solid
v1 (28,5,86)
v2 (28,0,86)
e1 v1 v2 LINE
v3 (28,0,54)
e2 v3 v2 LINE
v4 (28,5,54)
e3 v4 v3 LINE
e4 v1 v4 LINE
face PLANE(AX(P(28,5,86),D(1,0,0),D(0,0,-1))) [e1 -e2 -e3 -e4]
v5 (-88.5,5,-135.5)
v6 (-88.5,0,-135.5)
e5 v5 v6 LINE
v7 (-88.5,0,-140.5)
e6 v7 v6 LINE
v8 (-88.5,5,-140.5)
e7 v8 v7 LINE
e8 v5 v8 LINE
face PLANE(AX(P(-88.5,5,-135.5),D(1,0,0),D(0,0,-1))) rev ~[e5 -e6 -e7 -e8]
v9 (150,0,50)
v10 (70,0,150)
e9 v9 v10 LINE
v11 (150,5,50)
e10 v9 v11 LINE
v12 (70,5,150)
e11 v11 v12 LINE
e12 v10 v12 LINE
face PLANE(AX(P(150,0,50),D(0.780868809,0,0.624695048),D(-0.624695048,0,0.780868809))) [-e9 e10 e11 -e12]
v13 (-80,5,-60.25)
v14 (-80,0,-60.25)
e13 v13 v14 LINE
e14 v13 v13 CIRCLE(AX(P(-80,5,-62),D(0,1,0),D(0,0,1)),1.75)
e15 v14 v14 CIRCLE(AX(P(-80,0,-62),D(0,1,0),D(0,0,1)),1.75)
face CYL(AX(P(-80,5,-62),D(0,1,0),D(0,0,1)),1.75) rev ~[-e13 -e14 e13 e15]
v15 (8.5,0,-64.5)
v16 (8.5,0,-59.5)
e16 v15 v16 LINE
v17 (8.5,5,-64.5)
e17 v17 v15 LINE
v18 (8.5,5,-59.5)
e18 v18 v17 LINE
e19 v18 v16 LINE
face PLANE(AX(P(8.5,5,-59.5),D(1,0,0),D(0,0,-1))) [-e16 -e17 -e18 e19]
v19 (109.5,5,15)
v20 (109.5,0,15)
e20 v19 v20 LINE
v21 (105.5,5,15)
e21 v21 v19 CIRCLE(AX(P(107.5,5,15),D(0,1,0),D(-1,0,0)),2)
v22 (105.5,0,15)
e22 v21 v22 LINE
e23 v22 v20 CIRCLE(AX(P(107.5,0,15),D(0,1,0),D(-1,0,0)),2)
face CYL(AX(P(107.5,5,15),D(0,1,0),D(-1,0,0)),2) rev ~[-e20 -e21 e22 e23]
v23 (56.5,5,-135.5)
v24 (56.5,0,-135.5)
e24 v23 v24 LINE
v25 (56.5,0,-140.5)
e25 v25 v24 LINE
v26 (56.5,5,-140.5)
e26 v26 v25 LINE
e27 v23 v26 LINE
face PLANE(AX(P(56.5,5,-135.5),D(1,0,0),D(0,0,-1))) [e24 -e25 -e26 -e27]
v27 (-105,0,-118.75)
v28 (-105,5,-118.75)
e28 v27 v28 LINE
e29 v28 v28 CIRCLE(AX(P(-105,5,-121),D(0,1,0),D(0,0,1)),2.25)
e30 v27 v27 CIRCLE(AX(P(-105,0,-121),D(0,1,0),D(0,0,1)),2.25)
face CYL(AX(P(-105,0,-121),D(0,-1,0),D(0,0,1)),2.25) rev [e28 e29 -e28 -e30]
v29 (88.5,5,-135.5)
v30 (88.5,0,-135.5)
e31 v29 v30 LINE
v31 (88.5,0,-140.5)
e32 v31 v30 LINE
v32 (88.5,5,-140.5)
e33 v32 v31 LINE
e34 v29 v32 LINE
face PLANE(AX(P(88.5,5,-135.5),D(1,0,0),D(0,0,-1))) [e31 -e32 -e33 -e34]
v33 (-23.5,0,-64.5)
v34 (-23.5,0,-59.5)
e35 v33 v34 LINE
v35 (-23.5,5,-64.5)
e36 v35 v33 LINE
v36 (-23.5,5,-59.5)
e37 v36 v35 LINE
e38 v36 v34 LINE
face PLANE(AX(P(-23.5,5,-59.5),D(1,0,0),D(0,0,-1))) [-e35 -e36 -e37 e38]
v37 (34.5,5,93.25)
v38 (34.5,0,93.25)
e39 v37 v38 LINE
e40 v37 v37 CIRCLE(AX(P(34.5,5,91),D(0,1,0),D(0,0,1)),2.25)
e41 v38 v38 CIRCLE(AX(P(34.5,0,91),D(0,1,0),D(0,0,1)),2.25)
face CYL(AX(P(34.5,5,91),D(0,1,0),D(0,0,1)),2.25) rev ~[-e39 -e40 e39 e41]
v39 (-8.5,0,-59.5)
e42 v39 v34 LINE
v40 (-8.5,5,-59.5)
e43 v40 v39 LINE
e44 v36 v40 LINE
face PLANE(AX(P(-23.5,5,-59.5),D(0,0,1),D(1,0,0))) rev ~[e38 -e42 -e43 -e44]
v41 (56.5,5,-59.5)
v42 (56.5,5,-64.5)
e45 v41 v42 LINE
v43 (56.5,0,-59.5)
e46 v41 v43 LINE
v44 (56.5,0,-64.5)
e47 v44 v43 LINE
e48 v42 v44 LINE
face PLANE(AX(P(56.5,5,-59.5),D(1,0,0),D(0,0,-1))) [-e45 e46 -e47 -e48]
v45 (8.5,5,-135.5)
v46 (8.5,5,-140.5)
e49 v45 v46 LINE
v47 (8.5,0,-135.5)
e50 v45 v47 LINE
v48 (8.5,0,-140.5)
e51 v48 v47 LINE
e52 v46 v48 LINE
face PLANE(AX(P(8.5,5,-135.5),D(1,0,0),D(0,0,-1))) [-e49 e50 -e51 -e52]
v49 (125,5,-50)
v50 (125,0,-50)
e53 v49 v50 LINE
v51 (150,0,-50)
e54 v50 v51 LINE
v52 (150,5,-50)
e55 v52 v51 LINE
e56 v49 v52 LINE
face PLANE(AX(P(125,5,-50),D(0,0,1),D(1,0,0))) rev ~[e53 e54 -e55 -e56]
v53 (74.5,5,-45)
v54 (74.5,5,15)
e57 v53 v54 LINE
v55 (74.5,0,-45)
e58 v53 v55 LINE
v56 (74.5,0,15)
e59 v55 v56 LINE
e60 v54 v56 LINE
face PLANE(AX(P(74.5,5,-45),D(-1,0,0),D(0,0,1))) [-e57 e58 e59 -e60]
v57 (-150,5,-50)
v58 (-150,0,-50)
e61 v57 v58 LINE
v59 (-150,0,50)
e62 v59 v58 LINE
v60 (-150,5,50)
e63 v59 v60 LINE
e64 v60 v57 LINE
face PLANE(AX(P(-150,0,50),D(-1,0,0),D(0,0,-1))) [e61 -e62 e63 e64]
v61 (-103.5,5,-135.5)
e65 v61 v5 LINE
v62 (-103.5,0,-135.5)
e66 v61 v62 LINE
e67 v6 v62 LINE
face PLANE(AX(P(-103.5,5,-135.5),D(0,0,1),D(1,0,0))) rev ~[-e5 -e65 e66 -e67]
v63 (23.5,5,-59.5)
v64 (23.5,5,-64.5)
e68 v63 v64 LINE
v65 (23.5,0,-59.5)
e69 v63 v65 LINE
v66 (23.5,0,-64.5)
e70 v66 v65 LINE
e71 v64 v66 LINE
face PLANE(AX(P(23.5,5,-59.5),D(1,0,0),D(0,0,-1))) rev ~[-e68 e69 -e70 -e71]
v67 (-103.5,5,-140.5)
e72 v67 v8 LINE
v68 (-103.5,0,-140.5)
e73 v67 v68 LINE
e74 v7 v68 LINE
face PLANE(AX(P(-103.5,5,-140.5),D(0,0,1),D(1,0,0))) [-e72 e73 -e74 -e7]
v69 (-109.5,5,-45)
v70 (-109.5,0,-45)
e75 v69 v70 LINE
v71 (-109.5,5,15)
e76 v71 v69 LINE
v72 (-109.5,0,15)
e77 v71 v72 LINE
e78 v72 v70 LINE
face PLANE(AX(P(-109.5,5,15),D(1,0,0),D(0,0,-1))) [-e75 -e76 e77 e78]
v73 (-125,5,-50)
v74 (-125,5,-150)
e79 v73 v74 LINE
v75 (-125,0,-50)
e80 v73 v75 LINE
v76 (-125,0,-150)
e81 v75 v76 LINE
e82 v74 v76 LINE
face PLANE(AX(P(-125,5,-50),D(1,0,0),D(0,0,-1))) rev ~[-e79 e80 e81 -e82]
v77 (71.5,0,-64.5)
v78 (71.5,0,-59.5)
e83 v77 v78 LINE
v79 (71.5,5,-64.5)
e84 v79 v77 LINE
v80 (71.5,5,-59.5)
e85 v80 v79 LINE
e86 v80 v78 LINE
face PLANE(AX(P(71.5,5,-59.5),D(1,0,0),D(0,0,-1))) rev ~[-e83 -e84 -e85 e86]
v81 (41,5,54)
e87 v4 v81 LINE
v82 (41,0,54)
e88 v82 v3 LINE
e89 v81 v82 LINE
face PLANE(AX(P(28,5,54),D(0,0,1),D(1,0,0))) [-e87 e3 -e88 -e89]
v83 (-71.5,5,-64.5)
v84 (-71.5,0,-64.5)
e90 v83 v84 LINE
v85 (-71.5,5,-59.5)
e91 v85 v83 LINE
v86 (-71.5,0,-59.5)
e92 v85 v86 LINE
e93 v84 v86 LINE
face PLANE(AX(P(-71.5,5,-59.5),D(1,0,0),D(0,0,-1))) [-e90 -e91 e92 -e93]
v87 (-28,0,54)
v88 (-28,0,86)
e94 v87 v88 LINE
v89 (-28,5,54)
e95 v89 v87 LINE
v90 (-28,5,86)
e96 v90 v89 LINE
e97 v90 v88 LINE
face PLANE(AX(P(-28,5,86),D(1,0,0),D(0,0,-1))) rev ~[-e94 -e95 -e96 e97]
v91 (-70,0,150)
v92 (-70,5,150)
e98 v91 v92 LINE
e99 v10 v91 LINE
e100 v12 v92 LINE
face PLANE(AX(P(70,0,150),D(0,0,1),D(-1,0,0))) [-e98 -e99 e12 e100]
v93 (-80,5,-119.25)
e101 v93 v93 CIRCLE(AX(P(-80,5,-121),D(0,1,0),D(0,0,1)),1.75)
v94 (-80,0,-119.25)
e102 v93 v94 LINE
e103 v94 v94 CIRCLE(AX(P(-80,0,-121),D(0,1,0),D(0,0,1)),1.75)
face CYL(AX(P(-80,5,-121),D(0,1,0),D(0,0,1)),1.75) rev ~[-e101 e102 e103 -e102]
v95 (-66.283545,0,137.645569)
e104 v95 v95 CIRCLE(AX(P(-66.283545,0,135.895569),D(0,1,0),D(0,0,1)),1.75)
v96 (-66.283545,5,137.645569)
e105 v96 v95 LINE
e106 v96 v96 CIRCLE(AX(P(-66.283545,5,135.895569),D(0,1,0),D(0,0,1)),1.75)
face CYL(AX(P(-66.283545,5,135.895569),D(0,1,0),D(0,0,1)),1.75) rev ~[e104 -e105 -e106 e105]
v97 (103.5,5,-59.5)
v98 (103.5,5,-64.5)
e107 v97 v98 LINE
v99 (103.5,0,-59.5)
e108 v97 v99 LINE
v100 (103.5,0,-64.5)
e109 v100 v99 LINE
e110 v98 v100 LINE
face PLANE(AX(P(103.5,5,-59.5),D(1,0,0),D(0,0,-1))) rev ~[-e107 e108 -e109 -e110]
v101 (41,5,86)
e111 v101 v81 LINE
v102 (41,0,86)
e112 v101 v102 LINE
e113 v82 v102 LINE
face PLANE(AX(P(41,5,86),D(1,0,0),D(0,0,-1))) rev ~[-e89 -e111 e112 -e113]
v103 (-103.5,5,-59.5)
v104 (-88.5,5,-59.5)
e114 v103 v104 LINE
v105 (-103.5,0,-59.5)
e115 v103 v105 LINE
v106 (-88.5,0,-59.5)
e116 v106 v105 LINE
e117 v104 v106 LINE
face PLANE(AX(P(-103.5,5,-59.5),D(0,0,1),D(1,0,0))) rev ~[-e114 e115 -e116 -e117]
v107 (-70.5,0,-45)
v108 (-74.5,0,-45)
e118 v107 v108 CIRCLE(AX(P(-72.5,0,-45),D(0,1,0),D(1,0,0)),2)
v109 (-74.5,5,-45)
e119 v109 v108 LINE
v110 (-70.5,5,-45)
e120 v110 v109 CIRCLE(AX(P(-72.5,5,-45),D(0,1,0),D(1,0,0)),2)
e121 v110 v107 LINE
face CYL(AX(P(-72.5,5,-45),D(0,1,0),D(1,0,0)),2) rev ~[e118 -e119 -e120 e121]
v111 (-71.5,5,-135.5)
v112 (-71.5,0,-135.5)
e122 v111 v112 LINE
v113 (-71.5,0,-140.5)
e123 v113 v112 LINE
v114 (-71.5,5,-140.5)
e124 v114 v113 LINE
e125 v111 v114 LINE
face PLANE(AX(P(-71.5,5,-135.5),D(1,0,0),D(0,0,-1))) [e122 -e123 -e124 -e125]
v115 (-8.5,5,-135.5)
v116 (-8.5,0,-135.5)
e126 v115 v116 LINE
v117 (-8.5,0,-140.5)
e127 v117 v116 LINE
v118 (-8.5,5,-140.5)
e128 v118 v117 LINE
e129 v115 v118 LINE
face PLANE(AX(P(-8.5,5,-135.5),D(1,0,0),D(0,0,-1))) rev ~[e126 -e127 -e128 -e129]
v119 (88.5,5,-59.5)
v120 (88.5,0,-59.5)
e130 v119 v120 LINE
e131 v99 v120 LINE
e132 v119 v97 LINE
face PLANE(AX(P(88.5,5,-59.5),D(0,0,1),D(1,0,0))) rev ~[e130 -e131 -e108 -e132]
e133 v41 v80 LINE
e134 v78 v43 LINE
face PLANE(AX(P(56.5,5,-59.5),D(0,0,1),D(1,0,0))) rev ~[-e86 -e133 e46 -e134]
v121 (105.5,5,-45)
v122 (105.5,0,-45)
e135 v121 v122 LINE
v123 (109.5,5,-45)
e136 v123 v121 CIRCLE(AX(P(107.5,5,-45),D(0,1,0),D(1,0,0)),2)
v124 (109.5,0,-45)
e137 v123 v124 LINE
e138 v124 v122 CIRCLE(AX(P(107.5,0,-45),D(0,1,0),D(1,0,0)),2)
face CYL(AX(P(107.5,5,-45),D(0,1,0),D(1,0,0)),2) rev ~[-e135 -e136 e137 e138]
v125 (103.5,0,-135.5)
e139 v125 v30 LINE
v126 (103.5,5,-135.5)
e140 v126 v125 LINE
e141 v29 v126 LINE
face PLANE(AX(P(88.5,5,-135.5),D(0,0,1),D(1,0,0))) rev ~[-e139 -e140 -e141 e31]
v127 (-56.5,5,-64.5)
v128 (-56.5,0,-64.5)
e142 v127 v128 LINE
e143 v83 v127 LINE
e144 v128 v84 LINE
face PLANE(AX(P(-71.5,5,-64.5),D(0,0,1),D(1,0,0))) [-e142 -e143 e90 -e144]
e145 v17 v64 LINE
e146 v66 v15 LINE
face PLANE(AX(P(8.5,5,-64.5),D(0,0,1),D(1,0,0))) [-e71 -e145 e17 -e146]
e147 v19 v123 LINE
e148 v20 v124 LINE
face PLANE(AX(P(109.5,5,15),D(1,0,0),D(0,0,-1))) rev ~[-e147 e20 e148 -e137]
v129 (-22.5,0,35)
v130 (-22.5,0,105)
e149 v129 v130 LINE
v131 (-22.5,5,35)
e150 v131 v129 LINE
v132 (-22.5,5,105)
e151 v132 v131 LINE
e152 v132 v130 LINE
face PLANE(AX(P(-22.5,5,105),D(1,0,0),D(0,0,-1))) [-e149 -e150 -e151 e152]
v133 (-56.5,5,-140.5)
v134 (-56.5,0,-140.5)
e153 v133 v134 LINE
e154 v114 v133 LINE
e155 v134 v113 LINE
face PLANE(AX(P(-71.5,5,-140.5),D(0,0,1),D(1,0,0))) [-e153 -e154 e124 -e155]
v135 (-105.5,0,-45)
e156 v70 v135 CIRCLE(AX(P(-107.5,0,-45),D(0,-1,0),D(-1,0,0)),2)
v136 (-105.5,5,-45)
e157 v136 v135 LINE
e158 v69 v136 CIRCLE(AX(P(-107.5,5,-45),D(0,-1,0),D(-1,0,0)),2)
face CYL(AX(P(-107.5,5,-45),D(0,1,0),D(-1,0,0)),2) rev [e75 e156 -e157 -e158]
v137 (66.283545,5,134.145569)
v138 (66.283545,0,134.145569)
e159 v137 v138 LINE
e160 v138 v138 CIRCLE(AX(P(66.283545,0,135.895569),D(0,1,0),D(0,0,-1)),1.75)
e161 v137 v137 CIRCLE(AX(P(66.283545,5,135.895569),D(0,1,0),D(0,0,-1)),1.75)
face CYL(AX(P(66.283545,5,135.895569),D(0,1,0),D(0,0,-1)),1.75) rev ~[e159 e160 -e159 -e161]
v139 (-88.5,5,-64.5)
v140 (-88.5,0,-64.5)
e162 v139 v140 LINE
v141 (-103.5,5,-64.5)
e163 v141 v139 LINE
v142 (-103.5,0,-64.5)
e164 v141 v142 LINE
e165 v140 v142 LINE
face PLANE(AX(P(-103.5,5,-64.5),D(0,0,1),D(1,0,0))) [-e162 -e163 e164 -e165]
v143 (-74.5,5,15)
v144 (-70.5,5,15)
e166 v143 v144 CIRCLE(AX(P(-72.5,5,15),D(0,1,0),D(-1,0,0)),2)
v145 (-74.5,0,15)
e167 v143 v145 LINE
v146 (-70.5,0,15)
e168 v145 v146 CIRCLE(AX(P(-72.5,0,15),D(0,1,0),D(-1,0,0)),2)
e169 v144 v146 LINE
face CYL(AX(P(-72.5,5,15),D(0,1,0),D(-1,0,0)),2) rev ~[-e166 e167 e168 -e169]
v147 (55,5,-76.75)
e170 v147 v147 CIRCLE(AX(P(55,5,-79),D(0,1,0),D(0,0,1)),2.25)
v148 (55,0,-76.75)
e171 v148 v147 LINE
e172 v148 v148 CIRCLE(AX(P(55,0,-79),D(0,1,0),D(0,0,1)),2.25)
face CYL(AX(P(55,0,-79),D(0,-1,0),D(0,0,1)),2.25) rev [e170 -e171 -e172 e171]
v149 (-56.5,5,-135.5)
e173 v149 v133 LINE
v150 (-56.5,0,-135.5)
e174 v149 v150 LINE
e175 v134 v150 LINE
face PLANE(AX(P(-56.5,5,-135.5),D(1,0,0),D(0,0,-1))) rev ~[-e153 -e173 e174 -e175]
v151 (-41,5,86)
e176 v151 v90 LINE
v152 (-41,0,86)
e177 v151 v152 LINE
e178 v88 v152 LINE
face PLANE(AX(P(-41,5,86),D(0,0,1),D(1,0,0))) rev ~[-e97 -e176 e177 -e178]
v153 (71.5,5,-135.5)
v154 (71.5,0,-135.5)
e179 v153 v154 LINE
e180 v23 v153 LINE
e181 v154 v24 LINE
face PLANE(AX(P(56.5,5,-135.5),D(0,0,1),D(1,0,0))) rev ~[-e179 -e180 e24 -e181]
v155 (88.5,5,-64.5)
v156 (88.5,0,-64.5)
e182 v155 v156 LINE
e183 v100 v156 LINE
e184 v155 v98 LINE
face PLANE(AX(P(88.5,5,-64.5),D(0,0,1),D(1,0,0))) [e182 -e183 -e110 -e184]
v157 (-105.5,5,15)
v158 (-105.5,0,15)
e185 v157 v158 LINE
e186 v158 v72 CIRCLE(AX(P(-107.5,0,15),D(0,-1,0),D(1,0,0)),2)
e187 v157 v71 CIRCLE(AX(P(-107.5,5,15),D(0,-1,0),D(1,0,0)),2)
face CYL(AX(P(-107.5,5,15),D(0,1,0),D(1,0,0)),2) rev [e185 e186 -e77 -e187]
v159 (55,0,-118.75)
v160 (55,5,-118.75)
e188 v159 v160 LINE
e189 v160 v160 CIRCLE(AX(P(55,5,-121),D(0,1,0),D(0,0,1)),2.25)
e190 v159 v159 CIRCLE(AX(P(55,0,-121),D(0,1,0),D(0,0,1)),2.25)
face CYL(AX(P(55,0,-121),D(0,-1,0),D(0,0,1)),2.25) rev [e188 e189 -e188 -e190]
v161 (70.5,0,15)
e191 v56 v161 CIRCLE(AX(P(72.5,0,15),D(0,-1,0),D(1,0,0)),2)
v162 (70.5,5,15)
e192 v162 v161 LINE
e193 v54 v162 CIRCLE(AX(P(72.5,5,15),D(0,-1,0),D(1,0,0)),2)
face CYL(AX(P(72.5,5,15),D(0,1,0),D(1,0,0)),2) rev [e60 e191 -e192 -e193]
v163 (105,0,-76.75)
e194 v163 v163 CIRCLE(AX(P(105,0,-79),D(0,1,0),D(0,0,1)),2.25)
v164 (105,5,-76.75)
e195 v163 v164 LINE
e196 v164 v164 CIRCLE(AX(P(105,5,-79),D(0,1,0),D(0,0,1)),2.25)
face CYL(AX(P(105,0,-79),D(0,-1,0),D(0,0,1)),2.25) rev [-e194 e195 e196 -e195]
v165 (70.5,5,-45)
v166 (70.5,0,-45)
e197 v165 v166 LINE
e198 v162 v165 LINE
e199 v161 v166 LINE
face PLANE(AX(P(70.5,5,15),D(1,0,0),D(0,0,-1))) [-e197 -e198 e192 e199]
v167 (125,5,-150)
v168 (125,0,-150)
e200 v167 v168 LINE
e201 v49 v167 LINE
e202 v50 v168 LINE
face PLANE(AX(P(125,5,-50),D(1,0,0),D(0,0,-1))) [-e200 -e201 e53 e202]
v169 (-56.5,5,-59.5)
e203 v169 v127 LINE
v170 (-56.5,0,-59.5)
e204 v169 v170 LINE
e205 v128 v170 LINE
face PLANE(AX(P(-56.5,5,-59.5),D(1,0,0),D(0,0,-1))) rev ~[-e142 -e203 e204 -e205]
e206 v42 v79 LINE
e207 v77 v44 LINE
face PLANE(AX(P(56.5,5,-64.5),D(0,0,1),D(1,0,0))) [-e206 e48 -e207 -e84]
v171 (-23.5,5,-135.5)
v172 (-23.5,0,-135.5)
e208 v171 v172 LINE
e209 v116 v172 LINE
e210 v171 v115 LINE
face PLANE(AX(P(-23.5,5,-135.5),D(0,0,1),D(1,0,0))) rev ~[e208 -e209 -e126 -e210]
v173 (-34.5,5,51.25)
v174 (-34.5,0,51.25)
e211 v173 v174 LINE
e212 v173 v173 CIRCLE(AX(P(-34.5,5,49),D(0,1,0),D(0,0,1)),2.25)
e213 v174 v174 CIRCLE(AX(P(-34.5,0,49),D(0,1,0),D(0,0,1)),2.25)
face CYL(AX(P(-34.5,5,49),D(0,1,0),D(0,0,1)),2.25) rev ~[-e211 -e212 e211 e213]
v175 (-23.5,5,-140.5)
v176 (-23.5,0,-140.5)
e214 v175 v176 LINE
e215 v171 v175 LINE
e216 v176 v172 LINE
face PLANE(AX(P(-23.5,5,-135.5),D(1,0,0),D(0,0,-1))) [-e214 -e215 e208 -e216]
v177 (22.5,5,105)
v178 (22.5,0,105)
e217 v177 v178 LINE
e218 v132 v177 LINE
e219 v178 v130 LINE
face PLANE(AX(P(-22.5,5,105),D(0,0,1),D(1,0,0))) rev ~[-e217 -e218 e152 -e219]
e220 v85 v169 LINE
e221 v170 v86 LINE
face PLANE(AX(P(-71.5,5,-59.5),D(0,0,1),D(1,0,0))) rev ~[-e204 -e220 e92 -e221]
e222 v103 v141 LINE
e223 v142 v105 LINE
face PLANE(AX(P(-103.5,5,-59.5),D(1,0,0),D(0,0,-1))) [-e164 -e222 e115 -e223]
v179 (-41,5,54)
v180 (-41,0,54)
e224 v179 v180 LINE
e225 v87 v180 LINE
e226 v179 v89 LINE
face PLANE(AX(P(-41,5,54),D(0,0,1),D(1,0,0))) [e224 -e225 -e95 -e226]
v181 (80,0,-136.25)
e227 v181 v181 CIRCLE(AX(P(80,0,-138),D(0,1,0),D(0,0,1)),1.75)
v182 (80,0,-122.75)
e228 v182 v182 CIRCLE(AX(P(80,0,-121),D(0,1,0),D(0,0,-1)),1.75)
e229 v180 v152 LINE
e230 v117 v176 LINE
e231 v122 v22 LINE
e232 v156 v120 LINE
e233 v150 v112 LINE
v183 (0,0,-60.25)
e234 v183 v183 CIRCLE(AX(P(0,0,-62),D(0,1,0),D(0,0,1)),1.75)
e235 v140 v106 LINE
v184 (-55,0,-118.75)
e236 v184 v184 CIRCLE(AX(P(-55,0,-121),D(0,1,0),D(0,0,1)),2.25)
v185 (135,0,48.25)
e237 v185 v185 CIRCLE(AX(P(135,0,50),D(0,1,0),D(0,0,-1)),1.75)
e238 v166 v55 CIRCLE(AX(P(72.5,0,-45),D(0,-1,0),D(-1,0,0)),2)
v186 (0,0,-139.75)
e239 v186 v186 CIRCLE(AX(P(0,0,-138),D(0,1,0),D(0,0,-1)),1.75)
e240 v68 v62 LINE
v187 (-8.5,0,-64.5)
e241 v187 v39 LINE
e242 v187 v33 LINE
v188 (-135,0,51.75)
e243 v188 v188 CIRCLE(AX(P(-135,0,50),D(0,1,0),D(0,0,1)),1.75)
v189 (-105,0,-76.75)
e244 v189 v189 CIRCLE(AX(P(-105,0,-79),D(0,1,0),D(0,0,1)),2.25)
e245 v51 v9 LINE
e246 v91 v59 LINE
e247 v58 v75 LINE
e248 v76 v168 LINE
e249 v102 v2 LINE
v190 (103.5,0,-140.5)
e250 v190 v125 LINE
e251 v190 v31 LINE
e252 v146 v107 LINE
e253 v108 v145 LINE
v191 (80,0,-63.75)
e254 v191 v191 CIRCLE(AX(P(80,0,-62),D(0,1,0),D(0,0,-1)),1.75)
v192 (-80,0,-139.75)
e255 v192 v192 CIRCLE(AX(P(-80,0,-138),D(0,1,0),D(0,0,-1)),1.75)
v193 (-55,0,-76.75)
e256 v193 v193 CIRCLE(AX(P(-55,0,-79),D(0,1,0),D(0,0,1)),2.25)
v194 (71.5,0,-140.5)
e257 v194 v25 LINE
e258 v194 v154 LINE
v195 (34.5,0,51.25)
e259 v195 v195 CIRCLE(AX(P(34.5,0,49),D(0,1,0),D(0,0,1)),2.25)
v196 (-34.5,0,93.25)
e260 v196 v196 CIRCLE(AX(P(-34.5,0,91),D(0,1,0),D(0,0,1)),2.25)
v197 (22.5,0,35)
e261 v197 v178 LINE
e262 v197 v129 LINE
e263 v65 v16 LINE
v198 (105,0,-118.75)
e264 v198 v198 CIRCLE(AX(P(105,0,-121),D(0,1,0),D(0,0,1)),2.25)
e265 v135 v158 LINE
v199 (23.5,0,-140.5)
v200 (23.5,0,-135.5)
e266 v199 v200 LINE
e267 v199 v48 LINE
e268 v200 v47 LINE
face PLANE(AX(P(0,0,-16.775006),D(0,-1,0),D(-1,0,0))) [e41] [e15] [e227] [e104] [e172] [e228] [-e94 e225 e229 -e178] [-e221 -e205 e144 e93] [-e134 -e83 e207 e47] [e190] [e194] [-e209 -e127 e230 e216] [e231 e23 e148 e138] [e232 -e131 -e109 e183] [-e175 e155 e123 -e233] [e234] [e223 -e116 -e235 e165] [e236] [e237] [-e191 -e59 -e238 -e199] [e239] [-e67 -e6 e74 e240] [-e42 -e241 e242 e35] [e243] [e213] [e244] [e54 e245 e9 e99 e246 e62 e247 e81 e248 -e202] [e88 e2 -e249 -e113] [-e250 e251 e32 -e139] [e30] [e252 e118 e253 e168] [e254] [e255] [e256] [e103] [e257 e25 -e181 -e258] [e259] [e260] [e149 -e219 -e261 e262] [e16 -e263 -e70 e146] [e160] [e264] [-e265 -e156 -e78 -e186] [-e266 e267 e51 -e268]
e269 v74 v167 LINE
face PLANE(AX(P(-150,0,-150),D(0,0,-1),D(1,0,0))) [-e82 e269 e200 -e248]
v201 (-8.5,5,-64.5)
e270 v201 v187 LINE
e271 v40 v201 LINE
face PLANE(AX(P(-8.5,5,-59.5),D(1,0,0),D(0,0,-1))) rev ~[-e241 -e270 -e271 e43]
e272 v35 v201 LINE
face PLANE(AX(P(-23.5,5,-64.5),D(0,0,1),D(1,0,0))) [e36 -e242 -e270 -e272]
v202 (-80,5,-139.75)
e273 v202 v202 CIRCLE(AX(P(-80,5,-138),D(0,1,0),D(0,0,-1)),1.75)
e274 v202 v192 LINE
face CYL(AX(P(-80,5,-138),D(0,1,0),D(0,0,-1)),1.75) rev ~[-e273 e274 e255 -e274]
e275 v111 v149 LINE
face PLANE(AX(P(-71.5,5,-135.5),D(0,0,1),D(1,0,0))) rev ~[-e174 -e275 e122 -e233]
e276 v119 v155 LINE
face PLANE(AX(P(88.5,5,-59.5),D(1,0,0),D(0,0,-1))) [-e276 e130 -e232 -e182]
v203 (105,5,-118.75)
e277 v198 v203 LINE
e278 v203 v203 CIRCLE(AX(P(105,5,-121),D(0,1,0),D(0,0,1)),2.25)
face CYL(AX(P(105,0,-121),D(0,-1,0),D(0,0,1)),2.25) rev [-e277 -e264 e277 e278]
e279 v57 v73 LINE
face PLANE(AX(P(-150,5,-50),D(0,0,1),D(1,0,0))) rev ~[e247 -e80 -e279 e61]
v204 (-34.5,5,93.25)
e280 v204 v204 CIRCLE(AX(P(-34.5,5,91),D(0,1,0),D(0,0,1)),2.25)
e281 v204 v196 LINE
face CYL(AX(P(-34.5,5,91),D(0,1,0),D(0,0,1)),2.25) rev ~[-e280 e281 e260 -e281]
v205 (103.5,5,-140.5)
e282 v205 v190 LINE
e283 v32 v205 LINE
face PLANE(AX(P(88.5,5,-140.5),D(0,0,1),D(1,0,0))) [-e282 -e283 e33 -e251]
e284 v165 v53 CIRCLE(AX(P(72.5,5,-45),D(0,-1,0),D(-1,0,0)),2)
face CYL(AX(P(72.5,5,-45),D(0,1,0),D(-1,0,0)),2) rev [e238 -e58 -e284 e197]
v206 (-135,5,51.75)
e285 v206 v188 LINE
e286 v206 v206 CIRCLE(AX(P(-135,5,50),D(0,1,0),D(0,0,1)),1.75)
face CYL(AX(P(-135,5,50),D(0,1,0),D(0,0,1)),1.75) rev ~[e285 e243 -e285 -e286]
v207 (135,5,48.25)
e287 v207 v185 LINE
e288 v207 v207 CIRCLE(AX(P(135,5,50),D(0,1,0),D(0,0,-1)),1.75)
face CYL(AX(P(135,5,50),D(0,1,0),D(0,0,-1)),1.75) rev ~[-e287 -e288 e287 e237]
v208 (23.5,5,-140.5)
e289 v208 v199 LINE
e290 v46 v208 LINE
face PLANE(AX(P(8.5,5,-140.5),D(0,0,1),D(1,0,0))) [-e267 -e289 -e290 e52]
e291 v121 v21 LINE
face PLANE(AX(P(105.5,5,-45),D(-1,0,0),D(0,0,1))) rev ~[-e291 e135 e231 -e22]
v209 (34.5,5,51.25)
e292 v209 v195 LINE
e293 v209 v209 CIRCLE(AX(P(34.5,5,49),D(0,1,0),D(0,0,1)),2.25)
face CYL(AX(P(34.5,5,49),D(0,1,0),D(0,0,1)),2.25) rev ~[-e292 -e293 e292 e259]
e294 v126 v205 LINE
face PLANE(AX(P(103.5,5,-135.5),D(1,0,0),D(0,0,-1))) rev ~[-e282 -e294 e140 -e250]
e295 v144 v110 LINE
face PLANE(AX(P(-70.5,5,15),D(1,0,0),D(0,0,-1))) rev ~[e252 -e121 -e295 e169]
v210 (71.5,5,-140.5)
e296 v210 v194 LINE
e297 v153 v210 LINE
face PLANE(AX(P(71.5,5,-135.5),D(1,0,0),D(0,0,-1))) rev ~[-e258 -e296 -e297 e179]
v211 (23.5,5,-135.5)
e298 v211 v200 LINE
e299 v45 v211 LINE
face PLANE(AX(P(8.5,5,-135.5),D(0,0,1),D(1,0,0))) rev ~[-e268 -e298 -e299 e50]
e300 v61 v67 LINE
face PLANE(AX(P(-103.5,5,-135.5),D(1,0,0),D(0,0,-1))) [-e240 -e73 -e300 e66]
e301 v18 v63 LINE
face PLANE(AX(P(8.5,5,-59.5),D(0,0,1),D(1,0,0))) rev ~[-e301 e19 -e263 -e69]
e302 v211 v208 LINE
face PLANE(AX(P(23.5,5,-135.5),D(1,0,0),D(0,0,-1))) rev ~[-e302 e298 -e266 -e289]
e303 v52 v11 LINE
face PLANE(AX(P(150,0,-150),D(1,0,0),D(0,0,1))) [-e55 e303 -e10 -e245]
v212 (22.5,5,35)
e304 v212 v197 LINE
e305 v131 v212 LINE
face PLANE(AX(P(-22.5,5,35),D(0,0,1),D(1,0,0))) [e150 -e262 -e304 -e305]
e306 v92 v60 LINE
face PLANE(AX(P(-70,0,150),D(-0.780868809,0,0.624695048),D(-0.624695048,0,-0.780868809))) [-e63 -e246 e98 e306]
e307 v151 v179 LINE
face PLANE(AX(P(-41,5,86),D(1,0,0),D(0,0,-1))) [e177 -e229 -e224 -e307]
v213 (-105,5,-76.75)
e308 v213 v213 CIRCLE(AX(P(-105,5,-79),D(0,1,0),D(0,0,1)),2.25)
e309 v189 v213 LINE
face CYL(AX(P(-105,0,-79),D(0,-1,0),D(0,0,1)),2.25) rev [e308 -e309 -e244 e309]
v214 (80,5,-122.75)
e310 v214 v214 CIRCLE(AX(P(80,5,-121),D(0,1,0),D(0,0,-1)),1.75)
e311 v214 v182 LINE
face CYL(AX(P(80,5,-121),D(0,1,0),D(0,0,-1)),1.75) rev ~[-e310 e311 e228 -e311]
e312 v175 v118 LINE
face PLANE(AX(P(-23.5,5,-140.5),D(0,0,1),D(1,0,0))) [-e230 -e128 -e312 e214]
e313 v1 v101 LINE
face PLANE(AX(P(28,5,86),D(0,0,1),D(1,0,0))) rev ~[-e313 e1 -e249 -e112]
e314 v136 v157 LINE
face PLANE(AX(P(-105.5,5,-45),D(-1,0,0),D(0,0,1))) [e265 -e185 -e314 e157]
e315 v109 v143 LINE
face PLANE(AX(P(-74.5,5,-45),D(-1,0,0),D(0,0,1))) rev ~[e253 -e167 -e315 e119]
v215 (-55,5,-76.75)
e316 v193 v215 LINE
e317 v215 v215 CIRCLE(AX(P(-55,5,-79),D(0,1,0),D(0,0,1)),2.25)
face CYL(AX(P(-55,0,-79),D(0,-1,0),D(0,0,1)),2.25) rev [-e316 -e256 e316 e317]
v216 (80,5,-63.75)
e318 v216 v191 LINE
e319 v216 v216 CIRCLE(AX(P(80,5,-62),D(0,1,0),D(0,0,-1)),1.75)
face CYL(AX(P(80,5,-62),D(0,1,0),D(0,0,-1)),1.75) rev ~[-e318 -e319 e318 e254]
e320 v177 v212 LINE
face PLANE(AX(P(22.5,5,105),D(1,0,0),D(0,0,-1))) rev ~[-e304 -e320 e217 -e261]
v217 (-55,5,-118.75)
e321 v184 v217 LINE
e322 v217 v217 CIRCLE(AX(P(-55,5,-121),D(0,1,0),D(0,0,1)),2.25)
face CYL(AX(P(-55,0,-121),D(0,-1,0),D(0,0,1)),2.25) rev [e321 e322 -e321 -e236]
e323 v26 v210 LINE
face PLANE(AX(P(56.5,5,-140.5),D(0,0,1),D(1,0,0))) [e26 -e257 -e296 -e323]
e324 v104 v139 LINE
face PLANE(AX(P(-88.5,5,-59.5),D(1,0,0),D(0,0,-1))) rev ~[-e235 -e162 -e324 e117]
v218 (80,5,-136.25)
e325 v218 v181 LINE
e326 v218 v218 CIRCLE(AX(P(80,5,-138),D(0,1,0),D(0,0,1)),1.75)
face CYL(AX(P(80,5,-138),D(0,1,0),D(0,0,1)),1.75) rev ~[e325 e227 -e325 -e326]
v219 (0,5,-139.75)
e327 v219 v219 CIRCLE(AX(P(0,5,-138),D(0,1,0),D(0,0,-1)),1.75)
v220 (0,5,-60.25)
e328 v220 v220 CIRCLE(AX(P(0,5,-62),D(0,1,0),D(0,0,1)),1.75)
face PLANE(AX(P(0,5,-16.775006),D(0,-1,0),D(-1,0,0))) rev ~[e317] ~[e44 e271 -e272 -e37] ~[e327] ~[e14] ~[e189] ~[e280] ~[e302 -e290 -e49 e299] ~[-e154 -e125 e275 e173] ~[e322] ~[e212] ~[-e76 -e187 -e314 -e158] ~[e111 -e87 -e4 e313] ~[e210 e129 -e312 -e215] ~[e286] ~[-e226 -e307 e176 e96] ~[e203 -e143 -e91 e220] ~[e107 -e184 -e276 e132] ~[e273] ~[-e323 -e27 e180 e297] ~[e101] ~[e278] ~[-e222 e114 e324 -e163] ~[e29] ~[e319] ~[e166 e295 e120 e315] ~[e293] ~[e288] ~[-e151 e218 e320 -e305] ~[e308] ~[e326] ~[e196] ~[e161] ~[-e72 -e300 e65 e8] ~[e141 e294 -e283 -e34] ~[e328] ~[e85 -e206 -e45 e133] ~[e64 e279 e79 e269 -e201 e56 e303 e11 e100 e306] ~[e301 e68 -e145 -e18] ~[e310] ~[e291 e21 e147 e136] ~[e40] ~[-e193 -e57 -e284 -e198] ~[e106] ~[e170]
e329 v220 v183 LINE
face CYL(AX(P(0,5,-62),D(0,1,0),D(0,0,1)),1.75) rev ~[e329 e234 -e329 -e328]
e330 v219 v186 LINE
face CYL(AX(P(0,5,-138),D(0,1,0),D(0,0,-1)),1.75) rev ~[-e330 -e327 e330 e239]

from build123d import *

# Parameters (mm, degrees)
SKETCH_2_R          = 2.25
EXTRUDE_2_DEPTH     = 5
SKETCH_3_W          = 25
SKETCH_3_H          = 100
CUT_EXTRUDE_1_DEPTH = 5
CUT_EXTRUDE_2_DEPTH = 5
SKETCH_5_R          = 1.75
SKETCH_5_W          = 15
SKETCH_5_H          = 5
CUT_EXTRUDE_3_DEPTH = 213.190951739
SKETCH_7_R          = 2.25
SKETCH_7_W          = 13
SKETCH_7_H          = 32
SKETCH_7_W_2        = 45
SKETCH_7_H_2        = 70
CUT_EXTRUDE_4_DEPTH = 10
SKETCH_8_R          = 1.75
CUT_EXTRUDE_5_DEPTH = 213.190951739


with BuildPart() as part:
    # 草圖2 → 填料-伸長2 (new body)
    with BuildSketch(Plane(origin=(0, 0, 0), x_dir=(1, 0, 0), z_dir=(0, 1, 0))):
        Polygon((-150, 150), (150, 150), (150, -50), (70, -150), (-70, -150), (-150, -50), align=None)
        with Locations(Location((-105, 121, 0), (0, 0, 270))):
            Circle(SKETCH_2_R, mode=Mode.SUBTRACT)
        with Locations(Location((-105, 79, 0), (0, 0, 270))):
            Circle(SKETCH_2_R, mode=Mode.SUBTRACT)
        with Locations(Location((-55, 79, 0), (0, 0, 270))):
            Circle(SKETCH_2_R, mode=Mode.SUBTRACT)
        with Locations(Location((-55, 121, 0), (0, 0, 270))):
            Circle(SKETCH_2_R, mode=Mode.SUBTRACT)
        with Locations(Location((55, 121, 0), (0, 0, 270))):
            Circle(SKETCH_2_R, mode=Mode.SUBTRACT)
        with Locations(Location((55, 79, 0), (0, 0, 270))):
            Circle(SKETCH_2_R, mode=Mode.SUBTRACT)
        with Locations(Location((105, 121, 0), (0, 0, 270))):
            Circle(SKETCH_2_R, mode=Mode.SUBTRACT)
        with Locations(Location((105, 79, 0), (0, 0, 270))):
            Circle(SKETCH_2_R, mode=Mode.SUBTRACT)
    extrude(amount=EXTRUDE_2_DEPTH)

    # 草圖3 → 除料-伸長1 (cut)
    with BuildSketch(Plane(origin=(0, 5, 0), x_dir=(1, 0, 0), z_dir=(0, 1, 0))):
        with Locations((-137.5, 100)):
            Rectangle(SKETCH_3_W, SKETCH_3_H)
        with Locations((137.5, 100)):
            Rectangle(SKETCH_3_W, SKETCH_3_H)
    extrude(amount=-CUT_EXTRUDE_1_DEPTH, mode=Mode.SUBTRACT)

    # 草圖4 → 除料-伸長2 (cut)
    with BuildSketch(Plane(origin=(0, 5, 0), x_dir=(1, 0, 0), z_dir=(0, 1, 0))):
        with BuildLine():
            Line((-105.5, 45), (-105.5, -15))
            ThreePointArc((-105.5, -15), (-107.5, -17), (-109.5, -15))
            Line((-109.5, -15), (-109.5, 45))
            ThreePointArc((-109.5, 45), (-107.5, 47), (-105.5, 45))
        make_face()
        with BuildLine():
            Line((-74.5, 45), (-74.5, -15))
            ThreePointArc((-74.5, -15), (-72.5, -17), (-70.5, -15))
            Line((-70.5, -15), (-70.5, 45))
            ThreePointArc((-70.5, 45), (-72.5, 47), (-74.5, 45))
        make_face()
        with BuildLine():
            Line((105.5, 45), (105.5, -15))
            ThreePointArc((105.5, -15), (107.5, -17), (109.5, -15))
            Line((109.5, -15), (109.5, 45))
            ThreePointArc((109.5, 45), (107.5, 47), (105.5, 45))
        make_face()
        with BuildLine():
            Line((74.5, 45), (74.5, -15))
            ThreePointArc((74.5, -15), (72.5, -17), (70.5, -15))
            Line((70.5, -15), (70.5, 45))
            ThreePointArc((70.5, 45), (72.5, 47), (74.5, 45))
        make_face()
    extrude(amount=-CUT_EXTRUDE_2_DEPTH, mode=Mode.SUBTRACT)

    # 草圖5 → 除料-伸長3 (cut, through all)
    with BuildSketch(Plane(origin=(0, 5, 0), x_dir=(1, 0, 0), z_dir=(0, 1, 0))):
        with Locations(Location((0, 62, 0), (0, 0, 270))):
            Circle(SKETCH_5_R)
        with Locations(Location((-80, 62, 0), (0, 0, 270))):
            Circle(SKETCH_5_R)
        with Locations(Location((80, 62, 0), (0, 0, 90))):
            Circle(SKETCH_5_R)
        with Locations(Location((80, 138, 0), (0, 0, 270))):
            Circle(SKETCH_5_R)
        with Locations(Location((-80, 138, 0), (0, 0, 90))):
            Circle(SKETCH_5_R)
        with Locations(Location((0, 138, 0), (0, 0, 90))):
            Circle(SKETCH_5_R)
        with Locations((16, 62)):
            Rectangle(SKETCH_5_W, SKETCH_5_H)
        with Locations((-16, 62)):
            Rectangle(SKETCH_5_W, SKETCH_5_H)
        with Locations((-96, 62)):
            Rectangle(SKETCH_5_W, SKETCH_5_H)
        with Locations((-64, 62)):
            Rectangle(SKETCH_5_W, SKETCH_5_H)
        with Locations((64, 62)):
            Rectangle(SKETCH_5_W, SKETCH_5_H)
        with Locations((96, 62)):
            Rectangle(SKETCH_5_W, SKETCH_5_H)
        with Locations((96, 138)):
            Rectangle(SKETCH_5_W, SKETCH_5_H)
        with Locations((64, 138)):
            Rectangle(SKETCH_5_W, SKETCH_5_H)
        with Locations((-64, 138)):
            Rectangle(SKETCH_5_W, SKETCH_5_H)
        with Locations((-96, 138)):
            Rectangle(SKETCH_5_W, SKETCH_5_H)
        with Locations((16, 138)):
            Rectangle(SKETCH_5_W, SKETCH_5_H)
        with Locations((-16, 138)):
            Rectangle(SKETCH_5_W, SKETCH_5_H)
    extrude(amount=-CUT_EXTRUDE_3_DEPTH, mode=Mode.SUBTRACT)

    # 草圖7 → 除料-伸長4 (cut)
    with BuildSketch(Plane(origin=(0, 5, 0), x_dir=(1, 0, 0), z_dir=(0, 1, 0))):
        with Locations(Location((-34.5, -49, 0), (0, 0, 270))):
            Circle(SKETCH_7_R)
        with Locations(Location((-34.5, -91, 0), (0, 0, 270))):
            Circle(SKETCH_7_R)
        with Locations(Location((34.5, -91, 0), (0, 0, 270))):
            Circle(SKETCH_7_R)
        with Locations(Location((34.5, -49, 0), (0, 0, 270))):
            Circle(SKETCH_7_R)
        with Locations((34.5, -70)):
            Rectangle(SKETCH_7_W, SKETCH_7_H)
        with Locations((0, -70)):
            Rectangle(SKETCH_7_W_2, SKETCH_7_H_2)
        with Locations((-34.5, -70)):
            Rectangle(SKETCH_7_W, SKETCH_7_H)
    extrude(amount=-CUT_EXTRUDE_4_DEPTH, mode=Mode.SUBTRACT)

    # 草圖8 → 除料-伸長5 (cut, through all)
    with BuildSketch(Plane(origin=(0, 5, 0), x_dir=(1, 0, 0), z_dir=(0, 1, 0))):
        with Locations(Location((-80, 121, 0), (0, 0, 270))):
            Circle(SKETCH_8_R)
        with Locations(Location((80, 121, 0), (0, 0, 90))):
            Circle(SKETCH_8_R)
        with Locations(Location((-135, -50, 0), (0, 0, 270))):
            Circle(SKETCH_8_R)
        with Locations(Location((-66.283544769, -135.895569039, 0), (0, 0, 270))):
            Circle(SKETCH_8_R)
        with Locations(Location((135, -50, 0), (0, 0, 90))):
            Circle(SKETCH_8_R)
        with Locations(Location((66.283544769, -135.895569039, 0), (0, 0, 90))):
            Circle(SKETCH_8_R)
    extrude(amount=-CUT_EXTRUDE_5_DEPTH, mode=Mode.SUBTRACT)


solid = part.part
